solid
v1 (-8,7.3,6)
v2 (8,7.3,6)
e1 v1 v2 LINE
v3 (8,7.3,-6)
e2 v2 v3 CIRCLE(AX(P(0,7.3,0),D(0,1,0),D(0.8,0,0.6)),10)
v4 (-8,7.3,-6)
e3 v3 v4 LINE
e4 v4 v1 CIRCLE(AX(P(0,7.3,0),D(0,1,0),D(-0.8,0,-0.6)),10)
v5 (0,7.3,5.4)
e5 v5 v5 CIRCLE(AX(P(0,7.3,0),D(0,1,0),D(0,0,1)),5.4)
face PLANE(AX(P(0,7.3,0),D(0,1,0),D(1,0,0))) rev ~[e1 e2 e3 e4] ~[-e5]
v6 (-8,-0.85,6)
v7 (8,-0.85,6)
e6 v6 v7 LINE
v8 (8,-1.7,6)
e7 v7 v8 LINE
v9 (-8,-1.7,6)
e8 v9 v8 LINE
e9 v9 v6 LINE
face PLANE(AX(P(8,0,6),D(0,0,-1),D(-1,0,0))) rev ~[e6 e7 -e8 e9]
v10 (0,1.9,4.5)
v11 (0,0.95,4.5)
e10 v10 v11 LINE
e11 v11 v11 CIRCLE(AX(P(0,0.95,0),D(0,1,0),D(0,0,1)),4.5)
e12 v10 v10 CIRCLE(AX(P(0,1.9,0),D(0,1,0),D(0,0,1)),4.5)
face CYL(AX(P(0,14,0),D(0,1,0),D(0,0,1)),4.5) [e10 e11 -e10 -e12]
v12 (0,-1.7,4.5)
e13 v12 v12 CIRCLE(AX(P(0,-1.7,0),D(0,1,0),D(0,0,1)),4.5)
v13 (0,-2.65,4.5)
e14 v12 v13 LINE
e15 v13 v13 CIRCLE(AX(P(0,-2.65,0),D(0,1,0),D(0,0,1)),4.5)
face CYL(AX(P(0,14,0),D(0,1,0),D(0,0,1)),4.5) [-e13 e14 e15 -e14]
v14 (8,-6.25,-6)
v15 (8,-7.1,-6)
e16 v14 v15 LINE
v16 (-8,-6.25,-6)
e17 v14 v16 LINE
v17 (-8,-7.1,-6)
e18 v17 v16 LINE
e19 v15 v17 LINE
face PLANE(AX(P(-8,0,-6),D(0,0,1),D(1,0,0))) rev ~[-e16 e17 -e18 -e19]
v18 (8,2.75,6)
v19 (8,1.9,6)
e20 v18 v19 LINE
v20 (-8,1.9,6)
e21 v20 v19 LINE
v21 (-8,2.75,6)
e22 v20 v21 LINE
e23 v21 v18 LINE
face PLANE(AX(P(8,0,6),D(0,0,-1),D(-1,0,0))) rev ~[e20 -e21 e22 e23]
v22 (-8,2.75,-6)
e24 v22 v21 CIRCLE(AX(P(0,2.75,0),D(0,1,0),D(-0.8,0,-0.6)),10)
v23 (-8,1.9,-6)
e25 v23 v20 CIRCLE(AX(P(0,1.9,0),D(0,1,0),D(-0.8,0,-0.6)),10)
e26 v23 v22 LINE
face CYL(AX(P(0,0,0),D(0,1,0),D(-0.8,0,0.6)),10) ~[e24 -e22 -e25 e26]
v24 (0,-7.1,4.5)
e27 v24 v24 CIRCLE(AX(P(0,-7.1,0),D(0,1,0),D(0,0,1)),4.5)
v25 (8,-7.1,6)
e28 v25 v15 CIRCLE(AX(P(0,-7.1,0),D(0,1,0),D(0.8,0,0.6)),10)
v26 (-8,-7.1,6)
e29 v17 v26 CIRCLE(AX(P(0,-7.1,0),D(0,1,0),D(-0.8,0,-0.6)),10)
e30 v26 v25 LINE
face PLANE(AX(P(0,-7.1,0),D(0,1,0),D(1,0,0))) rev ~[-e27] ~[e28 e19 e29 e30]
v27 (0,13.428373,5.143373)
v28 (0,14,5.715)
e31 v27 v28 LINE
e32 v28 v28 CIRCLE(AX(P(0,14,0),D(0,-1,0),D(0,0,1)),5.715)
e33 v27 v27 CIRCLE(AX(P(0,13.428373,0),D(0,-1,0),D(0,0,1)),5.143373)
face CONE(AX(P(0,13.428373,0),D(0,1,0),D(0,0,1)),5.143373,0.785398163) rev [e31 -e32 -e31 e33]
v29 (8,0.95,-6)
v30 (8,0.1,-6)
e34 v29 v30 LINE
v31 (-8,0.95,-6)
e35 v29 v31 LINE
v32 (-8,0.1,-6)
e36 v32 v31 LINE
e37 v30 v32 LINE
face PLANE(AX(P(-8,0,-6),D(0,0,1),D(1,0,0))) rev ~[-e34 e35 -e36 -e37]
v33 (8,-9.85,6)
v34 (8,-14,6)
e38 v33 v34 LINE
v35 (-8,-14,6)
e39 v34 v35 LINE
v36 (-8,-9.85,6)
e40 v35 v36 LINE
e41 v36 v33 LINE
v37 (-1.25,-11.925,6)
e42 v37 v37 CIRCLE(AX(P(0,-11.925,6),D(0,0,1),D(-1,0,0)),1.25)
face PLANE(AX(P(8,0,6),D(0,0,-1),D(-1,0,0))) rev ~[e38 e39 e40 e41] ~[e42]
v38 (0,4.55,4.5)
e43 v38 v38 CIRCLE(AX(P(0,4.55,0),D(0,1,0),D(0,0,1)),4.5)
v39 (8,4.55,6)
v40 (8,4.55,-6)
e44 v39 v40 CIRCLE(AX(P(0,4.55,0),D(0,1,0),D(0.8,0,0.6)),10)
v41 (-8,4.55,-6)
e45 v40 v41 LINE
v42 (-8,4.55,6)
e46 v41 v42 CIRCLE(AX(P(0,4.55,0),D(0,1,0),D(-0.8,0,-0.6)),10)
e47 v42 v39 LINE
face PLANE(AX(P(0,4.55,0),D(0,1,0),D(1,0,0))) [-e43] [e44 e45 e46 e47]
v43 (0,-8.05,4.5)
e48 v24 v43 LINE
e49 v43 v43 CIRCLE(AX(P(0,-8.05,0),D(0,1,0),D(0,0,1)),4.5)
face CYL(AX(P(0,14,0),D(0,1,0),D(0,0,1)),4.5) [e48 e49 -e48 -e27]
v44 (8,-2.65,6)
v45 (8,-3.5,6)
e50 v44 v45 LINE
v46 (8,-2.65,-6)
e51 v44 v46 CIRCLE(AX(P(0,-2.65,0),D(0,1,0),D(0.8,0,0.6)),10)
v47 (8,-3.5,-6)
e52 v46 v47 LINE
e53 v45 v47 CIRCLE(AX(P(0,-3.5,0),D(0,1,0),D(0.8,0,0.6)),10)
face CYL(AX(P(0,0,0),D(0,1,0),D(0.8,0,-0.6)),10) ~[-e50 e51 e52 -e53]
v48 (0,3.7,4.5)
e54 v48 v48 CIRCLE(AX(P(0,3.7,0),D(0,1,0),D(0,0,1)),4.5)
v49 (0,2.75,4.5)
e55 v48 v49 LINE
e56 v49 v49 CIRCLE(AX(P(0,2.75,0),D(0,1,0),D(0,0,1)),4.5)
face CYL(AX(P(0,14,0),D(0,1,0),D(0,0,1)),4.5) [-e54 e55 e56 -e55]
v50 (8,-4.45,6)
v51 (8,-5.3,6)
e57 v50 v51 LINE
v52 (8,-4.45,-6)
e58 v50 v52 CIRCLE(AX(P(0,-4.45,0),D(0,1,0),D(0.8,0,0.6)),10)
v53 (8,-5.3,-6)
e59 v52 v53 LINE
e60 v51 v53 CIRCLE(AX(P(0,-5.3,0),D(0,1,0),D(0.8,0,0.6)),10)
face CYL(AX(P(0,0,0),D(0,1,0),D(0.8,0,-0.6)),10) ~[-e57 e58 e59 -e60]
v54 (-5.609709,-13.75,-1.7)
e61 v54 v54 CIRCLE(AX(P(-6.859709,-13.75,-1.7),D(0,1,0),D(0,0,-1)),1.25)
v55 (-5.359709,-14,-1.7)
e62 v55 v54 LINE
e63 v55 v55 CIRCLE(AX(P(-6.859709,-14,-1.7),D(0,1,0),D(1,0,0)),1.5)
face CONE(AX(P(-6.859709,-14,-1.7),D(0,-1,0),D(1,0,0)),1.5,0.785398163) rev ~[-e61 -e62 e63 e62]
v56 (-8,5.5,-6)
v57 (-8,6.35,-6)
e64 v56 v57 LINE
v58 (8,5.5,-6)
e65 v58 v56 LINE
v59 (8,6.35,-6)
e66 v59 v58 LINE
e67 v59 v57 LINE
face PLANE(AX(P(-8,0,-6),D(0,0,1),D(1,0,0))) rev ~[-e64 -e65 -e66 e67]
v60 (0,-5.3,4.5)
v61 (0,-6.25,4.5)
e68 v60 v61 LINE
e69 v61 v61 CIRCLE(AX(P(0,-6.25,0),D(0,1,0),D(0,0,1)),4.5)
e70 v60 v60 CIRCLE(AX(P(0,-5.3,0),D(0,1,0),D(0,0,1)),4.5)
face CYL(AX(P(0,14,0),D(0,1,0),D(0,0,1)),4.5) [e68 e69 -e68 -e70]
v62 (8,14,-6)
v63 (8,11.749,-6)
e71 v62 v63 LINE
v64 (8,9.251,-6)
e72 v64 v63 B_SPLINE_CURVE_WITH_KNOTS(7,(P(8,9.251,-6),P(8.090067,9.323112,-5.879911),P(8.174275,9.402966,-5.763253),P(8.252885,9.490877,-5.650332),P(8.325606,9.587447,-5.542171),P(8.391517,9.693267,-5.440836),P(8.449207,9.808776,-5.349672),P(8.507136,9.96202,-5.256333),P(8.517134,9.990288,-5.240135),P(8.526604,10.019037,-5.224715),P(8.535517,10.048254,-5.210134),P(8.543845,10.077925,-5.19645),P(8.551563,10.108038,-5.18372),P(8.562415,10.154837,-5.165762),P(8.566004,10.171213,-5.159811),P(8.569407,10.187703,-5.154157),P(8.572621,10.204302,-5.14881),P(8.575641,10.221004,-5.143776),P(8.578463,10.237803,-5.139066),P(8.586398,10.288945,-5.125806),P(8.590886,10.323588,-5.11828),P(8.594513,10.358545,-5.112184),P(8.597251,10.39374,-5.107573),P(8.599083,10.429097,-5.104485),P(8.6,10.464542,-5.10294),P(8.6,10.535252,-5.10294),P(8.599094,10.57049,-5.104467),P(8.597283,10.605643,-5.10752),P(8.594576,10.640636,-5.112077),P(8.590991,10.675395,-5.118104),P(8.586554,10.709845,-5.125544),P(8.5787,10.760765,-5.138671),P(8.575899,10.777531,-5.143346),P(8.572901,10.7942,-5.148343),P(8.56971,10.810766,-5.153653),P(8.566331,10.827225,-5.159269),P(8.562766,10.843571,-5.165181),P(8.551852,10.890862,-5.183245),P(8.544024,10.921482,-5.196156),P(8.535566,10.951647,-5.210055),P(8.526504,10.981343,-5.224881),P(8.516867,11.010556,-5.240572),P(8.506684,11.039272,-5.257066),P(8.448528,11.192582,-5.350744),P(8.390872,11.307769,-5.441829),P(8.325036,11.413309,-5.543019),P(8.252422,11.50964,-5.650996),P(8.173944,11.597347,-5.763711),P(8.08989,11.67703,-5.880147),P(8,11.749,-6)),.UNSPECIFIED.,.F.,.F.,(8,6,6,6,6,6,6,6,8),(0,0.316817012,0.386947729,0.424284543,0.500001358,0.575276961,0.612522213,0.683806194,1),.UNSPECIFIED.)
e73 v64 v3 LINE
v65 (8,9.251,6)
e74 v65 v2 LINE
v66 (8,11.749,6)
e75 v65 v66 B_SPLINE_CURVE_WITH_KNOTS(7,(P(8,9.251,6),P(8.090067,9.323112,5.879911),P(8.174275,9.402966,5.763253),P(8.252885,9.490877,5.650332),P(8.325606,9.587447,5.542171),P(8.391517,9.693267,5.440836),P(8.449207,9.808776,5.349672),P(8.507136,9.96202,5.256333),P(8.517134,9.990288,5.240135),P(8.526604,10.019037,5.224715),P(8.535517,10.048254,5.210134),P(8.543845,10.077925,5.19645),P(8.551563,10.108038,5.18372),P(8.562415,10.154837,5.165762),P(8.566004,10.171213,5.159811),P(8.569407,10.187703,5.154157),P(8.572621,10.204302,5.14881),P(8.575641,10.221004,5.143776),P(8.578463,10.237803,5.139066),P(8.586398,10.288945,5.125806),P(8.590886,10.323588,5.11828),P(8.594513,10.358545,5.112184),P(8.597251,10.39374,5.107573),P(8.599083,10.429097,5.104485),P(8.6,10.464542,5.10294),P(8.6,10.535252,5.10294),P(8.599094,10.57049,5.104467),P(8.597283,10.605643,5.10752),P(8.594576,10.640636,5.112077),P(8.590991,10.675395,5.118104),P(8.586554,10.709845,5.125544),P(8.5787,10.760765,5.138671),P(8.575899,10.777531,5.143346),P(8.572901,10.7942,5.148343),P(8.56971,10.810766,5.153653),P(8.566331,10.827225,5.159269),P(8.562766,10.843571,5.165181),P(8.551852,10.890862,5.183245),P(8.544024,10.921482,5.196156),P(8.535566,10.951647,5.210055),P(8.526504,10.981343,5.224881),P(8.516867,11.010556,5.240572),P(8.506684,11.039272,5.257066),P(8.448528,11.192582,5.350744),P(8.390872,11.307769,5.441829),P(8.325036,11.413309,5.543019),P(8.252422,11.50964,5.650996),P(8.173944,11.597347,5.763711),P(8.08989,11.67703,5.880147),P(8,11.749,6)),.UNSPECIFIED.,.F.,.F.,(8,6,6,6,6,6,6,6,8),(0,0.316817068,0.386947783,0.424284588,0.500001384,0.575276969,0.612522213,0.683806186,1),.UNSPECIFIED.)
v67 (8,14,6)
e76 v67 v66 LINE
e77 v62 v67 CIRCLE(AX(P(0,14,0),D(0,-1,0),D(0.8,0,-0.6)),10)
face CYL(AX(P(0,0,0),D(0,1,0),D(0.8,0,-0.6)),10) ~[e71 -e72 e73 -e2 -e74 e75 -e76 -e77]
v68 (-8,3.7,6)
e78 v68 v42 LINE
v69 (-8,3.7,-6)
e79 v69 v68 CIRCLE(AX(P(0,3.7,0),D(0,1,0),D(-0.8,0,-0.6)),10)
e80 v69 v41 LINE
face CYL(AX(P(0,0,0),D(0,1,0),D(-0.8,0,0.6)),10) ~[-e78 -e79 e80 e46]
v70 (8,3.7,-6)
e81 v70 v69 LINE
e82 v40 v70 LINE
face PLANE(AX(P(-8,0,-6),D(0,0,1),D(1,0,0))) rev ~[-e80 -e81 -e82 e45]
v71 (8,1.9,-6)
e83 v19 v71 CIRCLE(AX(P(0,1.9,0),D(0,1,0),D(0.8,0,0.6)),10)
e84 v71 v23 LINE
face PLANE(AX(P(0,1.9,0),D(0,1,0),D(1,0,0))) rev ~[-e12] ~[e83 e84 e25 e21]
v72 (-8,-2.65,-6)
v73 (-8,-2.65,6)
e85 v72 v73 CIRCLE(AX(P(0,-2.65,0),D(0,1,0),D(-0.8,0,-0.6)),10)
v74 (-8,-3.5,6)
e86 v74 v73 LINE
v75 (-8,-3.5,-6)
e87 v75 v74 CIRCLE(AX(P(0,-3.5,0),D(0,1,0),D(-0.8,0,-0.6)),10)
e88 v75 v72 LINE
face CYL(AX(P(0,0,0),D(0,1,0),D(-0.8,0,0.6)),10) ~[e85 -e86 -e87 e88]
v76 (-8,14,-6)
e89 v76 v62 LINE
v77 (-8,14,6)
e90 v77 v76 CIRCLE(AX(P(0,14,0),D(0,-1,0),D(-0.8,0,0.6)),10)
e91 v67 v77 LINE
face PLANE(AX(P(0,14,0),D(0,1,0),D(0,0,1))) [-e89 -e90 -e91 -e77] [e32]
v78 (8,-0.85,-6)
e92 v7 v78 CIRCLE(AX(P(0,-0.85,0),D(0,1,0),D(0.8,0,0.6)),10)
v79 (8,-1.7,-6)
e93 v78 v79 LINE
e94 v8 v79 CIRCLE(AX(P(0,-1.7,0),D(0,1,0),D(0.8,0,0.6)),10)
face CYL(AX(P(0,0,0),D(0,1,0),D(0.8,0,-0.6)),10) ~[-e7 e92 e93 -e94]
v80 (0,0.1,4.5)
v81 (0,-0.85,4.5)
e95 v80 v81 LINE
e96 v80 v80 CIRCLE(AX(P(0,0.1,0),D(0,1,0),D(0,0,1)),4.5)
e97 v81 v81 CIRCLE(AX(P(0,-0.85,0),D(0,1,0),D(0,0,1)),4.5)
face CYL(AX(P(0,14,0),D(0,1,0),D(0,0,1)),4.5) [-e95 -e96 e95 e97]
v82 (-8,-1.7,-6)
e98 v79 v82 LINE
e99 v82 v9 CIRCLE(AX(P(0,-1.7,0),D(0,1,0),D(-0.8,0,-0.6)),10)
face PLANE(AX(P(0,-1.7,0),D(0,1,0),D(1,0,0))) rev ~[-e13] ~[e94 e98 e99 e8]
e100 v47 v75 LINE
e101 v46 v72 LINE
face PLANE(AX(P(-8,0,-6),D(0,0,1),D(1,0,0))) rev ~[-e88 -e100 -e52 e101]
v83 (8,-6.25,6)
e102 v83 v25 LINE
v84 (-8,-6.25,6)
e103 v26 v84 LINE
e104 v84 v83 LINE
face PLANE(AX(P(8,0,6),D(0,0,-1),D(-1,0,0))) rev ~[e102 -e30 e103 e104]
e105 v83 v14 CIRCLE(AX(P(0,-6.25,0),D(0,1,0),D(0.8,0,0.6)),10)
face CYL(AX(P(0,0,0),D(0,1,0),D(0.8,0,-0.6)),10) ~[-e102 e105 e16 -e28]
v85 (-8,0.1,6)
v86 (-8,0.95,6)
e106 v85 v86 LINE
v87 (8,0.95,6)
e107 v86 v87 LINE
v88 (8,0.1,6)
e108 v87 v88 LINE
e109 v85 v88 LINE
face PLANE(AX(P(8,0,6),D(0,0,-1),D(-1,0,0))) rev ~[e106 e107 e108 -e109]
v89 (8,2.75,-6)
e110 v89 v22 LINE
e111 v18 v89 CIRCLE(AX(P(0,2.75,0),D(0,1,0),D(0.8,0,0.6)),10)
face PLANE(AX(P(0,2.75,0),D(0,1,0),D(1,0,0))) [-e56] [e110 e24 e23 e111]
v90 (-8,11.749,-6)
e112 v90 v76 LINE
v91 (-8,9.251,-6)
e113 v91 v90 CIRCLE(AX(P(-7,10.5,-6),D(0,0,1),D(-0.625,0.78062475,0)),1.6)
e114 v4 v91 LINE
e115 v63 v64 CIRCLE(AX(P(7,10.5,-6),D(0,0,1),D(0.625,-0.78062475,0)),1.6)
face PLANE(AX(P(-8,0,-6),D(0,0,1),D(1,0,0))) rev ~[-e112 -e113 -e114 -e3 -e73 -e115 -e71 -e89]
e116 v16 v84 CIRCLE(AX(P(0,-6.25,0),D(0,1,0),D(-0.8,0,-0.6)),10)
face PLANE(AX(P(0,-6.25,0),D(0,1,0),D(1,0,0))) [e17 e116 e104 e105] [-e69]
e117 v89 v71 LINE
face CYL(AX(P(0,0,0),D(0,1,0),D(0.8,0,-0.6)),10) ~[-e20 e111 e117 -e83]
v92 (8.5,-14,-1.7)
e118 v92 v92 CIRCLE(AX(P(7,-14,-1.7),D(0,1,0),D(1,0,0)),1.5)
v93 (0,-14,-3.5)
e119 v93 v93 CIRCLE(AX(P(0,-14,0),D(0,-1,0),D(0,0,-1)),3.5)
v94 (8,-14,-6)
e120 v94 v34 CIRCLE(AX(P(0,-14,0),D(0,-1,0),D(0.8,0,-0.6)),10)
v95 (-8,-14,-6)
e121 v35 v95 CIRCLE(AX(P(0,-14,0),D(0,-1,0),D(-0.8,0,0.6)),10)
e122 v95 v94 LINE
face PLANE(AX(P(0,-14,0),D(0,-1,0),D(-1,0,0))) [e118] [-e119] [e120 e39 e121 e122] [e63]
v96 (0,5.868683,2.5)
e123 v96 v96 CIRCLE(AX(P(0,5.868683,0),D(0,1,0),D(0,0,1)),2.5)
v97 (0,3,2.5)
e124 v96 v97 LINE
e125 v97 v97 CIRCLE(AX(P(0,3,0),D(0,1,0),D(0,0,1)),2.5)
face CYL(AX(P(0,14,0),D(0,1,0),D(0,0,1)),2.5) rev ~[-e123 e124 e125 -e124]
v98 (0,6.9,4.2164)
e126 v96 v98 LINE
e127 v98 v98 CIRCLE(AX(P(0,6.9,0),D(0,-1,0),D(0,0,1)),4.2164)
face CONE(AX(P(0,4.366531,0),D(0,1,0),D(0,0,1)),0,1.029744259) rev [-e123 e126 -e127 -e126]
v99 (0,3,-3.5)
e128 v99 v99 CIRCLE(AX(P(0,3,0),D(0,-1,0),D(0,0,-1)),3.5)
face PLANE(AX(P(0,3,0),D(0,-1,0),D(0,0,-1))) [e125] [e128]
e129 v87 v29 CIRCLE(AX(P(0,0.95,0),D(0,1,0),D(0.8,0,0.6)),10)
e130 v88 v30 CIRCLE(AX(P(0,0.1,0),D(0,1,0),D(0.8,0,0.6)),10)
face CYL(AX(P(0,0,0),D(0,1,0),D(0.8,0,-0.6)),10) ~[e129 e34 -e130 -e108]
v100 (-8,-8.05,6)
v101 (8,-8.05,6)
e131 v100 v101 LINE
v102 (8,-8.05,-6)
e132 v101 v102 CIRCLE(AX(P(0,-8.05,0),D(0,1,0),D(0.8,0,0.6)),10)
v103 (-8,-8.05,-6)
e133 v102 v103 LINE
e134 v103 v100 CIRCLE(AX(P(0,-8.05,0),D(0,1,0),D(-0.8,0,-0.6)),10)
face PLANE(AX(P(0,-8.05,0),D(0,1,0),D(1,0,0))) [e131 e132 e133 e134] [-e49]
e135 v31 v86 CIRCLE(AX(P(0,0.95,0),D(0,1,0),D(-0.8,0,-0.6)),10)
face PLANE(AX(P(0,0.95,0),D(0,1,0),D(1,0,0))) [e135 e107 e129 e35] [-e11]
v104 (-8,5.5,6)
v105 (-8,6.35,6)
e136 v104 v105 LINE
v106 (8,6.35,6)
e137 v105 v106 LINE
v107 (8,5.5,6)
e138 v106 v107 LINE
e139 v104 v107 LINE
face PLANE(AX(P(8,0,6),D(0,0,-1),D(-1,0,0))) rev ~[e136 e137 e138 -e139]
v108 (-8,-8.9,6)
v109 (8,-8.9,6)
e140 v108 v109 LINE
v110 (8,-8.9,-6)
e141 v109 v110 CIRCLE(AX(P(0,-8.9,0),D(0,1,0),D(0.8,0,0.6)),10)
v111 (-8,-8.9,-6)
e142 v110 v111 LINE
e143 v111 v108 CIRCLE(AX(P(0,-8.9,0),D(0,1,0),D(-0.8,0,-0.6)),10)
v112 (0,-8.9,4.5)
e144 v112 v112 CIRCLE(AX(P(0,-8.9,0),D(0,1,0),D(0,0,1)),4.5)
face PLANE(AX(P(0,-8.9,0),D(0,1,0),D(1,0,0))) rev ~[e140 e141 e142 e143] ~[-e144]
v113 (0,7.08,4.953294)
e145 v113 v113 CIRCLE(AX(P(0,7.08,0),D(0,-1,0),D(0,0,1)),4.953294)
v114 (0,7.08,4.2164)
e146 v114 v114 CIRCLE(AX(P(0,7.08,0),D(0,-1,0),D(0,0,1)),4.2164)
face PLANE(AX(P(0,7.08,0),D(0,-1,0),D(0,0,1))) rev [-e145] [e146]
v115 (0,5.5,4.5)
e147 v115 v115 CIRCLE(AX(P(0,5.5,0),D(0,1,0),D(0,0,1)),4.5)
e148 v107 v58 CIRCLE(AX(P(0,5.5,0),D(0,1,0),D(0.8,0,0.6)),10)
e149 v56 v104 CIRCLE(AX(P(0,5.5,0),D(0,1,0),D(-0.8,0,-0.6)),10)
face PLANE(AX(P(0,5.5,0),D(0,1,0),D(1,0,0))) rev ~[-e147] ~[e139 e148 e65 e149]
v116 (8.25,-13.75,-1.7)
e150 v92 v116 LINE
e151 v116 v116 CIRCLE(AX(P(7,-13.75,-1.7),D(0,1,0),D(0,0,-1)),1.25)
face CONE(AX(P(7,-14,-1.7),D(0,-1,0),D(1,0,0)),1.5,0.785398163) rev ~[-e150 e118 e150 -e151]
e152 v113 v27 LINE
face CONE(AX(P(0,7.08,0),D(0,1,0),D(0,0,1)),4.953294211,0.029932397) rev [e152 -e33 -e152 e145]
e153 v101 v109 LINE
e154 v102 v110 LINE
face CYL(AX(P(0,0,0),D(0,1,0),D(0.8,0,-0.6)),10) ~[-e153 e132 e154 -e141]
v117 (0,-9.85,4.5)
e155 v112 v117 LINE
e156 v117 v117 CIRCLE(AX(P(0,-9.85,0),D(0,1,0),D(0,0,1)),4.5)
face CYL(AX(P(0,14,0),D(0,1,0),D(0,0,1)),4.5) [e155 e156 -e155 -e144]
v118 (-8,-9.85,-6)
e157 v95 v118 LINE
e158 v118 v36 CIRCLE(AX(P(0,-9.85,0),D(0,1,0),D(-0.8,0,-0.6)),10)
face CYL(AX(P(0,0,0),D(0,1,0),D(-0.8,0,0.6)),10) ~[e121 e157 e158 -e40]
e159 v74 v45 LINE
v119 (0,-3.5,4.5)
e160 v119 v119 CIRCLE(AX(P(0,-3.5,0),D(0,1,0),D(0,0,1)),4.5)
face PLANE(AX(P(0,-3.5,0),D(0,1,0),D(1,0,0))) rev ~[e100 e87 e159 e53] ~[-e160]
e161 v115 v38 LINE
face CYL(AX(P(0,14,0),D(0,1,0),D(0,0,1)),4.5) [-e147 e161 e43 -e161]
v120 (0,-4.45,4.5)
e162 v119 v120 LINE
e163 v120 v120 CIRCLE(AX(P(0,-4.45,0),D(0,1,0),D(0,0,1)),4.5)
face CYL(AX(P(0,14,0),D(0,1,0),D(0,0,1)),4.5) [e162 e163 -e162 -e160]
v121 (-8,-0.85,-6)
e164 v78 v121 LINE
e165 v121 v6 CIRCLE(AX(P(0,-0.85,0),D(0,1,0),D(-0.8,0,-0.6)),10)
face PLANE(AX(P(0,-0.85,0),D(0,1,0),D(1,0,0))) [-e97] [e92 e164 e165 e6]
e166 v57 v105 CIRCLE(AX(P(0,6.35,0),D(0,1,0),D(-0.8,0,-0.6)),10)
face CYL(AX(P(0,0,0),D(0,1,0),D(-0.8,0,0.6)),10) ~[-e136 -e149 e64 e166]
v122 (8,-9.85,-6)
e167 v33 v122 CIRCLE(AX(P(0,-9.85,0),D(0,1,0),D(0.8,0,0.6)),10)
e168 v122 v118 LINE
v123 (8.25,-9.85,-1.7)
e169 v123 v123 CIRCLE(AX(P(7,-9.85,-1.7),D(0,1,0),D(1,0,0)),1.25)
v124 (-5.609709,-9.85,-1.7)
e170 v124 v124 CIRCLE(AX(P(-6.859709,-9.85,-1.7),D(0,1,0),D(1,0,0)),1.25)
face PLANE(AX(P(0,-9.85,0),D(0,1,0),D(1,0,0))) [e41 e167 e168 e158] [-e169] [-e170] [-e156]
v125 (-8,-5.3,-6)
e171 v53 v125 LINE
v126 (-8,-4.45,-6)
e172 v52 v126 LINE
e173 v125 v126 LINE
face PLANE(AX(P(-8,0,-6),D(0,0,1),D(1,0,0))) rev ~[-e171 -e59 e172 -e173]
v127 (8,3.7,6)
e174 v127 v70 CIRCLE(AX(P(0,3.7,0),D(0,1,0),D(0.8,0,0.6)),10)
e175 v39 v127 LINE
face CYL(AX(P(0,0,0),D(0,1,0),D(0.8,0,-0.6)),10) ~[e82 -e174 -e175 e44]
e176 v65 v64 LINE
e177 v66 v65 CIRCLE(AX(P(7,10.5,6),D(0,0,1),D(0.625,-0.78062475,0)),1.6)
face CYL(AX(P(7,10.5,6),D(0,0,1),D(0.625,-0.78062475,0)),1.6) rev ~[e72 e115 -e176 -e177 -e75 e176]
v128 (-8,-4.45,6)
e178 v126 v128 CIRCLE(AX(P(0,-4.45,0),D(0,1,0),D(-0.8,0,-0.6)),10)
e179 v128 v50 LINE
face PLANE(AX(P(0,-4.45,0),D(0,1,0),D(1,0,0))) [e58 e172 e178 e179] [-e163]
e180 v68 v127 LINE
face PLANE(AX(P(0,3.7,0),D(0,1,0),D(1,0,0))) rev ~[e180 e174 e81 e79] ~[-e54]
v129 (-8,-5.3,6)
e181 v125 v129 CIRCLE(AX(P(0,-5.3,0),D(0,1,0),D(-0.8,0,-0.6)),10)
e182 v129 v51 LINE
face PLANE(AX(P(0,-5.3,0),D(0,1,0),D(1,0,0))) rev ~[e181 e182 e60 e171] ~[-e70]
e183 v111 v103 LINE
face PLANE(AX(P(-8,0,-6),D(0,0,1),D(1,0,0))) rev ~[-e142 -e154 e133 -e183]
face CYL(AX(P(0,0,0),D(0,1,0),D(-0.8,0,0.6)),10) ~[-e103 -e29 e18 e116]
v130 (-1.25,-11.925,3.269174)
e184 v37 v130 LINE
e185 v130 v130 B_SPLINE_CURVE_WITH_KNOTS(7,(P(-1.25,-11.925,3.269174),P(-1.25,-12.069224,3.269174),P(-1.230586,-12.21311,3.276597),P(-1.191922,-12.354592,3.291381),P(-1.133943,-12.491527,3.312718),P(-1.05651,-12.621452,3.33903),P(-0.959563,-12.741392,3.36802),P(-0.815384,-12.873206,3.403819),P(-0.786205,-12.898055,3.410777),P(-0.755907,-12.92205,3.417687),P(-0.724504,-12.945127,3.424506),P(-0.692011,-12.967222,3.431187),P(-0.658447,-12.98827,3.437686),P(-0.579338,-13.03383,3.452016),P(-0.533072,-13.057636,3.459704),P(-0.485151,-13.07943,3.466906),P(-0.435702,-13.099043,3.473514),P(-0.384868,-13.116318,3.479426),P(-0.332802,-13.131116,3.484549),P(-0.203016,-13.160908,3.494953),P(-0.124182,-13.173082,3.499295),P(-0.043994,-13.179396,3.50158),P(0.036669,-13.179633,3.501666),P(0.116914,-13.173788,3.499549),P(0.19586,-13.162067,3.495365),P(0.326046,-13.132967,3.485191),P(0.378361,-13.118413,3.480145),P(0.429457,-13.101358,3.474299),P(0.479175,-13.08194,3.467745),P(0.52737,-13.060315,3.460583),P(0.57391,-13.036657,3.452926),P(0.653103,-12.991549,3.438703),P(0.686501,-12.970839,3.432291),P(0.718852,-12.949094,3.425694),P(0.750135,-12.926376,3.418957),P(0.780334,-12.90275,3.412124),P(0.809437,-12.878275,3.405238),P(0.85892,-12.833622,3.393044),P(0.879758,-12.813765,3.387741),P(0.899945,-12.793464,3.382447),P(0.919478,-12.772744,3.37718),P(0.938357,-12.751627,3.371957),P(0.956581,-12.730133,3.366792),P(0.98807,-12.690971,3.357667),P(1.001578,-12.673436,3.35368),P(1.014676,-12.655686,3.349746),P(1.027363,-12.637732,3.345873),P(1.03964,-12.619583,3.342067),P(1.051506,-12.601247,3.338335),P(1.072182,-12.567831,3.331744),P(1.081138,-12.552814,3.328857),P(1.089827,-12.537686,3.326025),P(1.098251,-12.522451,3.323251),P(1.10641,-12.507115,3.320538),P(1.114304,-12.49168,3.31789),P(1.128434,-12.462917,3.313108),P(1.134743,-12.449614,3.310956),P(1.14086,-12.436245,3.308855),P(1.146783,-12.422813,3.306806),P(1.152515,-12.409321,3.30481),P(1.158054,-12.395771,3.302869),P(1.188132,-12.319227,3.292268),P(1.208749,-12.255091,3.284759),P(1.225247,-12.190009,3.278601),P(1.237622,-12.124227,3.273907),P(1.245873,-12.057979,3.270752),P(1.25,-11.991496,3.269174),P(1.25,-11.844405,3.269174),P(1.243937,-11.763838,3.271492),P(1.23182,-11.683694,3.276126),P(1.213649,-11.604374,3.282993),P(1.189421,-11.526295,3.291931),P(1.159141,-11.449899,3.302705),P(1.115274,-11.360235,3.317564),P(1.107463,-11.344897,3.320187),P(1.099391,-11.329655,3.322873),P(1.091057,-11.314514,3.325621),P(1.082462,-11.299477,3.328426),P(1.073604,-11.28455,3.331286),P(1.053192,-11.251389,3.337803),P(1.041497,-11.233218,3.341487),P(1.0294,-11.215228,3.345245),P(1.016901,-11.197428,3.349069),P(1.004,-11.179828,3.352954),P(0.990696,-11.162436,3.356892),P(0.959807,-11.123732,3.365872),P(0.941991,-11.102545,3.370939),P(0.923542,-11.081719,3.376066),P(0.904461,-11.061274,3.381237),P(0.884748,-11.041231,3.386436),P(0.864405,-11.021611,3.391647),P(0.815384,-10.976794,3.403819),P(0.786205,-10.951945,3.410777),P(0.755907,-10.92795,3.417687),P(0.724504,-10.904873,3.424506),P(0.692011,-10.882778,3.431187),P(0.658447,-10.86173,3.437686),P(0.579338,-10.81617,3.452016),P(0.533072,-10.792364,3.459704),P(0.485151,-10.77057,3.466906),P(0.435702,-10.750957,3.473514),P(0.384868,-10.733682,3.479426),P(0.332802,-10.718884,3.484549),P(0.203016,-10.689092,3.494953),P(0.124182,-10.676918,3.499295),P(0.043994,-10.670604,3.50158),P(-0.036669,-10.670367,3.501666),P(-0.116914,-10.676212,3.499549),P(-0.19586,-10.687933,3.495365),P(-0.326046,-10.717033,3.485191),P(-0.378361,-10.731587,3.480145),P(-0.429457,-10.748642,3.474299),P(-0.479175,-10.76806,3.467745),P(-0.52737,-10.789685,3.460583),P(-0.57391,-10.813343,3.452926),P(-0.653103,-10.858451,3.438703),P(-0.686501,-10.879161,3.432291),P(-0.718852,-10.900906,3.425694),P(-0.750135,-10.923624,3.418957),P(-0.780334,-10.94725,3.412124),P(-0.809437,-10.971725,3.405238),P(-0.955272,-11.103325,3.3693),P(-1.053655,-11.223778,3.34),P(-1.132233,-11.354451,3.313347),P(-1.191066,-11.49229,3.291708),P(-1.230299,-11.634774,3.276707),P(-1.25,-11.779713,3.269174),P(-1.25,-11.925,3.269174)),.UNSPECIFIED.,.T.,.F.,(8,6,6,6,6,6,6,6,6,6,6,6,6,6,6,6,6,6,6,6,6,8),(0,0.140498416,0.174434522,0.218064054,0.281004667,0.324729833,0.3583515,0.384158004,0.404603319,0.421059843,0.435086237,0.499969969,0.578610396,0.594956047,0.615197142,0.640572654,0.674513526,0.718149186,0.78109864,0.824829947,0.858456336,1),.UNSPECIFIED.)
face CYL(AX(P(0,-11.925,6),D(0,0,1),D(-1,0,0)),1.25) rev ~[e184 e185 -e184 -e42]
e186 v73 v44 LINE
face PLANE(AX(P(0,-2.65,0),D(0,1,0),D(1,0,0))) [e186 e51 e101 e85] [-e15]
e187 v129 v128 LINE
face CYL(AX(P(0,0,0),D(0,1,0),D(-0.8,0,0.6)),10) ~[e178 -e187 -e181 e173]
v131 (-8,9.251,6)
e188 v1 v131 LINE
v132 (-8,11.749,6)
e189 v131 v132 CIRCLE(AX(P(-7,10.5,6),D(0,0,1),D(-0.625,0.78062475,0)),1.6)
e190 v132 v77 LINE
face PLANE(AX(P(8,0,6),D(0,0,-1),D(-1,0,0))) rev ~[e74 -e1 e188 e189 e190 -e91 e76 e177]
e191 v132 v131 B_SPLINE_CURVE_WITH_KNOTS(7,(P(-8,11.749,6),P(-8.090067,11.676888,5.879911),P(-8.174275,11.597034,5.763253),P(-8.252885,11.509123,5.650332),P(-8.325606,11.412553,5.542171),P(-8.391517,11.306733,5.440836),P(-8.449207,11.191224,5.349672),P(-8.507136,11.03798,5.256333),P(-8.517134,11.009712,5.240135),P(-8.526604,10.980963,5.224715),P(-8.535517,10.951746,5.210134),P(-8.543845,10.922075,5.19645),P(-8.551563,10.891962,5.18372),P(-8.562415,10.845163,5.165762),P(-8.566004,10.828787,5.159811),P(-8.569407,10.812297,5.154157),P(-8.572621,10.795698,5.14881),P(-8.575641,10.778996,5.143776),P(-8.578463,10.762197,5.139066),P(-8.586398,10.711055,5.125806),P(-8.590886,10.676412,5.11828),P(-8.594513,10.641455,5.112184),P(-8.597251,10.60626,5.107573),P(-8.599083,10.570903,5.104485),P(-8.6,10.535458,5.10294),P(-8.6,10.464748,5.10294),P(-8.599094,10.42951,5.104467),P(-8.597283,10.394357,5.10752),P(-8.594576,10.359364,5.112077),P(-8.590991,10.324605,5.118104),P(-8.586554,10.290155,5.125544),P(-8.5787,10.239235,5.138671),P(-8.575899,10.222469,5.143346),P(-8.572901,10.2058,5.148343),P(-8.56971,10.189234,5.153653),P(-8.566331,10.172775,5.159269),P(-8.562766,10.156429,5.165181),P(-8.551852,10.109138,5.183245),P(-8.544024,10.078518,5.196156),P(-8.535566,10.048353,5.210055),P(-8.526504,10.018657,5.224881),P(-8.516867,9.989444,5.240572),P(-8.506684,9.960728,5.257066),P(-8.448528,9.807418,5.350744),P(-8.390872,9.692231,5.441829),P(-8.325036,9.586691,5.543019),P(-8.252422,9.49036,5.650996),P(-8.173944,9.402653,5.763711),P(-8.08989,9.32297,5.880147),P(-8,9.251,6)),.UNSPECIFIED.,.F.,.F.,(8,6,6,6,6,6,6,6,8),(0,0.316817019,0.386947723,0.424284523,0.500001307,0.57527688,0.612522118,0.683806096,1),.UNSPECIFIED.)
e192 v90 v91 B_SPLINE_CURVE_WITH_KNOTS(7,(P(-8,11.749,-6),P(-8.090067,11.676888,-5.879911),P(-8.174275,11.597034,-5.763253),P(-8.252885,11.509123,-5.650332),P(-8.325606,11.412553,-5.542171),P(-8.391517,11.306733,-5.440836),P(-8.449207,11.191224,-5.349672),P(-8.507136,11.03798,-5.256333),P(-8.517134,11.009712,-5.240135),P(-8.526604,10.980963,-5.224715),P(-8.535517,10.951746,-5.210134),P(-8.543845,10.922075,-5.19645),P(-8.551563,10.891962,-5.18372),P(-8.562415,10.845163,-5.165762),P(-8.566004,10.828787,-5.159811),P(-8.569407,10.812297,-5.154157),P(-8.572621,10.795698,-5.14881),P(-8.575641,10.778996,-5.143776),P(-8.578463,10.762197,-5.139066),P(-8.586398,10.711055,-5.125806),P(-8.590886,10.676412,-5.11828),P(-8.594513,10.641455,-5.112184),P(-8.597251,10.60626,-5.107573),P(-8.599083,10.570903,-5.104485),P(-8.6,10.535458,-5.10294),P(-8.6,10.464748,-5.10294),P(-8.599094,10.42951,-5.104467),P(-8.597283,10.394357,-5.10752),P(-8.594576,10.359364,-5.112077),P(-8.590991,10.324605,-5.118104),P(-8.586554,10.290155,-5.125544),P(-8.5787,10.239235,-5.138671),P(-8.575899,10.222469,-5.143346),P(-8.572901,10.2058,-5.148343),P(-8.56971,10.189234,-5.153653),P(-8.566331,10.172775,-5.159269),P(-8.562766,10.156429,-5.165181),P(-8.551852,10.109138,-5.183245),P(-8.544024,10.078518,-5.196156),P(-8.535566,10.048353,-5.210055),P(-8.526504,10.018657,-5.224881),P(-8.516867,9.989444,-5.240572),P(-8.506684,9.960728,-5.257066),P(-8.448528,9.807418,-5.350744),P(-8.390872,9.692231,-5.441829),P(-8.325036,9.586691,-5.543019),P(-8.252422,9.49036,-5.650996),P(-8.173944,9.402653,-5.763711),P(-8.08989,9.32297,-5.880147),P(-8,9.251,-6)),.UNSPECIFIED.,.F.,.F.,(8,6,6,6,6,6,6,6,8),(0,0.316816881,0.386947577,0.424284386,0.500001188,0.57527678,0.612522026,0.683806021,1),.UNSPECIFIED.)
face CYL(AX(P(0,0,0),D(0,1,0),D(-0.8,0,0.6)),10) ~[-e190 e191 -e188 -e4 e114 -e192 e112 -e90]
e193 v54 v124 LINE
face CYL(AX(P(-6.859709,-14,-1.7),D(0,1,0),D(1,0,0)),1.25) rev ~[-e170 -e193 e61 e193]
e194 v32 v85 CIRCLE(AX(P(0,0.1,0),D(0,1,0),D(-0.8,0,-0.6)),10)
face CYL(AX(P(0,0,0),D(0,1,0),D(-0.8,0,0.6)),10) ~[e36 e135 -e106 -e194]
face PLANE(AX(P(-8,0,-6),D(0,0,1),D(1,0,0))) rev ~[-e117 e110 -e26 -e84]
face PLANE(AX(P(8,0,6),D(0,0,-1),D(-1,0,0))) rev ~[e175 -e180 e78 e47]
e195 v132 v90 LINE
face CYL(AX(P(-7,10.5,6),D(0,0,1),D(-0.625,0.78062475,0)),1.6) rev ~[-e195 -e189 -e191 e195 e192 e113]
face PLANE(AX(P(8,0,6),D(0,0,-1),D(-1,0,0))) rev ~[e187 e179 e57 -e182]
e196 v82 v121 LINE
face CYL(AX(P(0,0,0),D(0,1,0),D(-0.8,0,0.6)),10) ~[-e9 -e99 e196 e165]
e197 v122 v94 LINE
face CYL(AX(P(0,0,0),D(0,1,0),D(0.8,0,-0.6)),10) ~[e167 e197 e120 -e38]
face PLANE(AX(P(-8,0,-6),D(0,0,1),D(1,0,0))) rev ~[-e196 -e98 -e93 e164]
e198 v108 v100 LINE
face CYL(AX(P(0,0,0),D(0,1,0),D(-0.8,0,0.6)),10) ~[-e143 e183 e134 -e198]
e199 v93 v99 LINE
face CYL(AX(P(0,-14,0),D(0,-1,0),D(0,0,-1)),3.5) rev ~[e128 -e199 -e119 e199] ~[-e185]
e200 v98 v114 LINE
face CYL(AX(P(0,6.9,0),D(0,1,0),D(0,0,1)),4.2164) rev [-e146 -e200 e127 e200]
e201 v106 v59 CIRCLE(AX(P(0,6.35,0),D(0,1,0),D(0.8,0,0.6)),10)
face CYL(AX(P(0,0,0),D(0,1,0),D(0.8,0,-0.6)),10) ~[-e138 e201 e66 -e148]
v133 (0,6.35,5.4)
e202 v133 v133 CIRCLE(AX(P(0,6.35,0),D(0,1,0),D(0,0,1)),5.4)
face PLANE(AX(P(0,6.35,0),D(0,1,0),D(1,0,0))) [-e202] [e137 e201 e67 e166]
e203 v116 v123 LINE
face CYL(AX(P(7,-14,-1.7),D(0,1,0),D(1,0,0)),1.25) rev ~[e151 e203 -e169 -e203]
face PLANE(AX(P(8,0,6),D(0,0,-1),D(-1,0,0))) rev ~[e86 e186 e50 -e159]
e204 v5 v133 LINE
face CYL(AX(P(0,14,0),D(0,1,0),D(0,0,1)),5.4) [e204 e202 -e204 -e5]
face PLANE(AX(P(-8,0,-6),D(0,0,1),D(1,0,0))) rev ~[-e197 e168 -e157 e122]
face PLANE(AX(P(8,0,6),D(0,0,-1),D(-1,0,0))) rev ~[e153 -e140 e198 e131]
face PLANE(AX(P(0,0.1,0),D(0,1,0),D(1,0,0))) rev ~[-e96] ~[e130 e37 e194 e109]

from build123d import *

# Parameters (mm, degrees)
BOSS_EXTRUDE1_DEPTH             = 14
CUT_EXTRUDE1_DEPTH              = 0.95
LPATTERN1_COUNT                 = 10
LPATTERN1_PITCH                 = 1.8
SKETCH3_R                       = 1.6
CUT_EXTRUDE2_DEPTH              = 21.976176963
SKETCH4_R                       = 5.4
BOSS_EXTRUDE2_DEPTH             = 7.65
BOSS_EXTRUDE3_REACH             = 32.332
SKETCH5_R                       = 4.5
SKETCH10_R                      = 2.5
CUT_EXTRUDE6_DEPTH              = 31.331501829
SKETCH9_R                       = 3.5
CUT_EXTRUDE5_DEPTH              = 17
M3X0_5_TAPPED_HOLE1_REACH       = 22.976
M3X0_5_TAPPED_HOLE1_BORE_R      = 1.25
M3X0_5_TAPPED_HOLE2_D           = 2.5
M3X0_5_TAPPED_HOLE2_DEPTH       = 4.15
M3X0_5_TAPPED_HOLE2_CSINK_D     = 3
M3X0_5_TAPPED_HOLE2_CSINK_ANGLE = 90


with BuildPart() as part:
    # Sketch1 → Boss-Extrude1 (new, symmetric)
    with BuildSketch(Plane(origin=(0, 0, 0), x_dir=(1, 0, 0), z_dir=(0, 1, 0))):
        with BuildLine():
            Line((-8, 6), (8, 6))
            ThreePointArc((8, 6), (10, 0), (8, -6))
            Line((8, -6), (-8, -6))
            ThreePointArc((-8, -6), (-10, 0), (-8, 6))
        make_face()
    extrude(amount=BOSS_EXTRUDE1_DEPTH, both=True)

    # Sketch2 → Cut-Extrude1 (cut)
    with BuildSketch(Plane(origin=(0, 7.3, 0), x_dir=(1, 0, 0), z_dir=(0, 1, 0))):
        with BuildLine():
            Line((8, 6), (-8, 6))
            ThreePointArc((-8, 6), (-10, 0), (-8, -6))
            Line((-8, -6), (8, -6))
            ThreePointArc((8, -6), (10, 0), (8, 6))
        make_face()
    cut_extrude1 = extrude(amount=-CUT_EXTRUDE1_DEPTH, mode=Mode.SUBTRACT)


with BuildPart() as cut_extrude1_piece_1:
    # of the separate pieces the step leaves, piece 1, a body of its own (cut_extrude1_pieces)
    add(part.part.solids().sort_by_distance((-8, -14, -6))[0])

    # LPattern1: Cut-Extrude1 ×10
    with Locations(*[(0, -i * LPATTERN1_PITCH, 0) for i in range(1, LPATTERN1_COUNT)]):
        add(cut_extrude1, mode=Mode.SUBTRACT)



with BuildPart() as cut_extrude1_piece_2:
    # of the separate pieces the step leaves, piece 2, a body of its own (cut_extrude1_pieces)
    add(part.part.solids().sort_by_distance((-8, 7.3, -6))[0])

    # Sketch3 → Cut-Extrude2 (cut, through all)
    with BuildSketch(Plane.XY.offset(6)):
        with Locations(Location((7, 10.5, 0), (0, 0, 308.682187453))):
            Circle(SKETCH3_R)
        with Locations(Location((-7, 10.5, 0), (0, 0, 128.682187453))):
            Circle(SKETCH3_R)
    extrude(amount=-CUT_EXTRUDE2_DEPTH, mode=Mode.SUBTRACT)


with BuildPart() as cut_extrude1_piece_1_1:
    add(cut_extrude1_piece_1.part)

    add(cut_extrude1_piece_2.part)  # Boss-Extrude2 merges Cut-Extrude1 piece 2
    # Sketch4 → Boss-Extrude2 (add)
    with BuildSketch(Plane(origin=(0, 14, 0), x_dir=(1, 0, 0), z_dir=(0, 1, 0))):
        with Locations(Location((0, 0, 0), (0, 0, 270))):
            Circle(SKETCH4_R)
    extrude(amount=-BOSS_EXTRUDE2_DEPTH)

    # Boss-Extrude3: up to this face of the body (flat: up to its plane)
    boss_extrude3_end = Plane(cut_extrude1_piece_1_1.part.faces().sort_by_distance((0, -9.85, 0))[0])
    # Sketch5 → Boss-Extrude3 (add, up to the picked face)
    with BuildSketch(Plane(origin=(0, 14, 0), x_dir=(1, 0, 0), z_dir=(0, 1, 0)), mode=Mode.PRIVATE) as boss_extrude3_sk1:
        with Locations(Location((0, 0, 0), (0, 0, 270))):
            Circle(SKETCH5_R)
    boss_extrude3_tool1 = split(extrude(boss_extrude3_sk1.sketch, amount=-BOSS_EXTRUDE3_REACH, mode=Mode.PRIVATE), bisect_by=boss_extrude3_end, keep=Keep.BOTH, mode=Mode.PRIVATE)
    add(boss_extrude3_tool1.solids().sort_by(Axis((0, 14, 0), (0, -1, 0)))[0])

    # Sketch7 → 1/8 NPT Tapped Hole1 (revolve, cut)
    with BuildSketch(Plane(origin=(0, 14, 0), x_dir=(0, 0, 1), z_dir=(1, 0, 0))):
        Polygon((0, 0), (0, 9.633468714), (4.2164, 7.1), (4.2164, 6.92), (4.953294211, 6.92), (5.143373, 0.571627), (5.715, 0), align=None)
    revolve(axis=Axis((0, 20.35, 0), (0, -1, 0)), mode=Mode.SUBTRACT)

    # Sketch10 → Cut-Extrude6 (cut, through all)
    with BuildSketch(Plane(origin=(0, 14, 0), x_dir=(1, 0, 0), z_dir=(0, 1, 0))):
        with Locations(Location((0, 0, 0), (0, 0, 270))):
            Circle(SKETCH10_R)
    extrude(amount=-CUT_EXTRUDE6_DEPTH, mode=Mode.SUBTRACT)

    # Sketch9 → Cut-Extrude5 (cut)
    with BuildSketch(Plane.XZ.offset(14)):
        with Locations(Location((0, 0, 0), (0, 0, 270))):
            Circle(SKETCH9_R)
    extrude(amount=-CUT_EXTRUDE5_DEPTH, mode=Mode.SUBTRACT)

    # M3x0.5 Tapped Hole1 bore → M3x0.5 Tapped Hole1 (cut, up to next)
    with BuildSketch(Plane(origin=(0, 0, 6), x_dir=(-1, 0, 0), z_dir=(0, 0, 1)), mode=Mode.PRIVATE) as m3x0_5_tapped_hole1_sk1:
        with Locations((0, 11.925)):
            Circle(M3X0_5_TAPPED_HOLE1_BORE_R)
    m3x0_5_tapped_hole1_tool1 = extrude(m3x0_5_tapped_hole1_sk1.sketch, amount=-M3X0_5_TAPPED_HOLE1_REACH, mode=Mode.PRIVATE) & cut_extrude1_piece_1_1.part
    add(m3x0_5_tapped_hole1_tool1.solids().sort_by_distance((0, -11.925, 6))[0], mode=Mode.SUBTRACT)

    # M3x0.5 Tapped Hole2
    with Locations(Plane(origin=(0, -14, 0), x_dir=(-1, 0, 0), z_dir=(0, -1, 0))):
        with Locations((6.85970884, 1.7), (-7, 1.7)):
            CounterSinkHole(M3X0_5_TAPPED_HOLE2_D / 2, M3X0_5_TAPPED_HOLE2_CSINK_D / 2, depth=M3X0_5_TAPPED_HOLE2_DEPTH, counter_sink_angle=M3X0_5_TAPPED_HOLE2_CSINK_ANGLE)


solid = cut_extrude1_piece_1_1.part
